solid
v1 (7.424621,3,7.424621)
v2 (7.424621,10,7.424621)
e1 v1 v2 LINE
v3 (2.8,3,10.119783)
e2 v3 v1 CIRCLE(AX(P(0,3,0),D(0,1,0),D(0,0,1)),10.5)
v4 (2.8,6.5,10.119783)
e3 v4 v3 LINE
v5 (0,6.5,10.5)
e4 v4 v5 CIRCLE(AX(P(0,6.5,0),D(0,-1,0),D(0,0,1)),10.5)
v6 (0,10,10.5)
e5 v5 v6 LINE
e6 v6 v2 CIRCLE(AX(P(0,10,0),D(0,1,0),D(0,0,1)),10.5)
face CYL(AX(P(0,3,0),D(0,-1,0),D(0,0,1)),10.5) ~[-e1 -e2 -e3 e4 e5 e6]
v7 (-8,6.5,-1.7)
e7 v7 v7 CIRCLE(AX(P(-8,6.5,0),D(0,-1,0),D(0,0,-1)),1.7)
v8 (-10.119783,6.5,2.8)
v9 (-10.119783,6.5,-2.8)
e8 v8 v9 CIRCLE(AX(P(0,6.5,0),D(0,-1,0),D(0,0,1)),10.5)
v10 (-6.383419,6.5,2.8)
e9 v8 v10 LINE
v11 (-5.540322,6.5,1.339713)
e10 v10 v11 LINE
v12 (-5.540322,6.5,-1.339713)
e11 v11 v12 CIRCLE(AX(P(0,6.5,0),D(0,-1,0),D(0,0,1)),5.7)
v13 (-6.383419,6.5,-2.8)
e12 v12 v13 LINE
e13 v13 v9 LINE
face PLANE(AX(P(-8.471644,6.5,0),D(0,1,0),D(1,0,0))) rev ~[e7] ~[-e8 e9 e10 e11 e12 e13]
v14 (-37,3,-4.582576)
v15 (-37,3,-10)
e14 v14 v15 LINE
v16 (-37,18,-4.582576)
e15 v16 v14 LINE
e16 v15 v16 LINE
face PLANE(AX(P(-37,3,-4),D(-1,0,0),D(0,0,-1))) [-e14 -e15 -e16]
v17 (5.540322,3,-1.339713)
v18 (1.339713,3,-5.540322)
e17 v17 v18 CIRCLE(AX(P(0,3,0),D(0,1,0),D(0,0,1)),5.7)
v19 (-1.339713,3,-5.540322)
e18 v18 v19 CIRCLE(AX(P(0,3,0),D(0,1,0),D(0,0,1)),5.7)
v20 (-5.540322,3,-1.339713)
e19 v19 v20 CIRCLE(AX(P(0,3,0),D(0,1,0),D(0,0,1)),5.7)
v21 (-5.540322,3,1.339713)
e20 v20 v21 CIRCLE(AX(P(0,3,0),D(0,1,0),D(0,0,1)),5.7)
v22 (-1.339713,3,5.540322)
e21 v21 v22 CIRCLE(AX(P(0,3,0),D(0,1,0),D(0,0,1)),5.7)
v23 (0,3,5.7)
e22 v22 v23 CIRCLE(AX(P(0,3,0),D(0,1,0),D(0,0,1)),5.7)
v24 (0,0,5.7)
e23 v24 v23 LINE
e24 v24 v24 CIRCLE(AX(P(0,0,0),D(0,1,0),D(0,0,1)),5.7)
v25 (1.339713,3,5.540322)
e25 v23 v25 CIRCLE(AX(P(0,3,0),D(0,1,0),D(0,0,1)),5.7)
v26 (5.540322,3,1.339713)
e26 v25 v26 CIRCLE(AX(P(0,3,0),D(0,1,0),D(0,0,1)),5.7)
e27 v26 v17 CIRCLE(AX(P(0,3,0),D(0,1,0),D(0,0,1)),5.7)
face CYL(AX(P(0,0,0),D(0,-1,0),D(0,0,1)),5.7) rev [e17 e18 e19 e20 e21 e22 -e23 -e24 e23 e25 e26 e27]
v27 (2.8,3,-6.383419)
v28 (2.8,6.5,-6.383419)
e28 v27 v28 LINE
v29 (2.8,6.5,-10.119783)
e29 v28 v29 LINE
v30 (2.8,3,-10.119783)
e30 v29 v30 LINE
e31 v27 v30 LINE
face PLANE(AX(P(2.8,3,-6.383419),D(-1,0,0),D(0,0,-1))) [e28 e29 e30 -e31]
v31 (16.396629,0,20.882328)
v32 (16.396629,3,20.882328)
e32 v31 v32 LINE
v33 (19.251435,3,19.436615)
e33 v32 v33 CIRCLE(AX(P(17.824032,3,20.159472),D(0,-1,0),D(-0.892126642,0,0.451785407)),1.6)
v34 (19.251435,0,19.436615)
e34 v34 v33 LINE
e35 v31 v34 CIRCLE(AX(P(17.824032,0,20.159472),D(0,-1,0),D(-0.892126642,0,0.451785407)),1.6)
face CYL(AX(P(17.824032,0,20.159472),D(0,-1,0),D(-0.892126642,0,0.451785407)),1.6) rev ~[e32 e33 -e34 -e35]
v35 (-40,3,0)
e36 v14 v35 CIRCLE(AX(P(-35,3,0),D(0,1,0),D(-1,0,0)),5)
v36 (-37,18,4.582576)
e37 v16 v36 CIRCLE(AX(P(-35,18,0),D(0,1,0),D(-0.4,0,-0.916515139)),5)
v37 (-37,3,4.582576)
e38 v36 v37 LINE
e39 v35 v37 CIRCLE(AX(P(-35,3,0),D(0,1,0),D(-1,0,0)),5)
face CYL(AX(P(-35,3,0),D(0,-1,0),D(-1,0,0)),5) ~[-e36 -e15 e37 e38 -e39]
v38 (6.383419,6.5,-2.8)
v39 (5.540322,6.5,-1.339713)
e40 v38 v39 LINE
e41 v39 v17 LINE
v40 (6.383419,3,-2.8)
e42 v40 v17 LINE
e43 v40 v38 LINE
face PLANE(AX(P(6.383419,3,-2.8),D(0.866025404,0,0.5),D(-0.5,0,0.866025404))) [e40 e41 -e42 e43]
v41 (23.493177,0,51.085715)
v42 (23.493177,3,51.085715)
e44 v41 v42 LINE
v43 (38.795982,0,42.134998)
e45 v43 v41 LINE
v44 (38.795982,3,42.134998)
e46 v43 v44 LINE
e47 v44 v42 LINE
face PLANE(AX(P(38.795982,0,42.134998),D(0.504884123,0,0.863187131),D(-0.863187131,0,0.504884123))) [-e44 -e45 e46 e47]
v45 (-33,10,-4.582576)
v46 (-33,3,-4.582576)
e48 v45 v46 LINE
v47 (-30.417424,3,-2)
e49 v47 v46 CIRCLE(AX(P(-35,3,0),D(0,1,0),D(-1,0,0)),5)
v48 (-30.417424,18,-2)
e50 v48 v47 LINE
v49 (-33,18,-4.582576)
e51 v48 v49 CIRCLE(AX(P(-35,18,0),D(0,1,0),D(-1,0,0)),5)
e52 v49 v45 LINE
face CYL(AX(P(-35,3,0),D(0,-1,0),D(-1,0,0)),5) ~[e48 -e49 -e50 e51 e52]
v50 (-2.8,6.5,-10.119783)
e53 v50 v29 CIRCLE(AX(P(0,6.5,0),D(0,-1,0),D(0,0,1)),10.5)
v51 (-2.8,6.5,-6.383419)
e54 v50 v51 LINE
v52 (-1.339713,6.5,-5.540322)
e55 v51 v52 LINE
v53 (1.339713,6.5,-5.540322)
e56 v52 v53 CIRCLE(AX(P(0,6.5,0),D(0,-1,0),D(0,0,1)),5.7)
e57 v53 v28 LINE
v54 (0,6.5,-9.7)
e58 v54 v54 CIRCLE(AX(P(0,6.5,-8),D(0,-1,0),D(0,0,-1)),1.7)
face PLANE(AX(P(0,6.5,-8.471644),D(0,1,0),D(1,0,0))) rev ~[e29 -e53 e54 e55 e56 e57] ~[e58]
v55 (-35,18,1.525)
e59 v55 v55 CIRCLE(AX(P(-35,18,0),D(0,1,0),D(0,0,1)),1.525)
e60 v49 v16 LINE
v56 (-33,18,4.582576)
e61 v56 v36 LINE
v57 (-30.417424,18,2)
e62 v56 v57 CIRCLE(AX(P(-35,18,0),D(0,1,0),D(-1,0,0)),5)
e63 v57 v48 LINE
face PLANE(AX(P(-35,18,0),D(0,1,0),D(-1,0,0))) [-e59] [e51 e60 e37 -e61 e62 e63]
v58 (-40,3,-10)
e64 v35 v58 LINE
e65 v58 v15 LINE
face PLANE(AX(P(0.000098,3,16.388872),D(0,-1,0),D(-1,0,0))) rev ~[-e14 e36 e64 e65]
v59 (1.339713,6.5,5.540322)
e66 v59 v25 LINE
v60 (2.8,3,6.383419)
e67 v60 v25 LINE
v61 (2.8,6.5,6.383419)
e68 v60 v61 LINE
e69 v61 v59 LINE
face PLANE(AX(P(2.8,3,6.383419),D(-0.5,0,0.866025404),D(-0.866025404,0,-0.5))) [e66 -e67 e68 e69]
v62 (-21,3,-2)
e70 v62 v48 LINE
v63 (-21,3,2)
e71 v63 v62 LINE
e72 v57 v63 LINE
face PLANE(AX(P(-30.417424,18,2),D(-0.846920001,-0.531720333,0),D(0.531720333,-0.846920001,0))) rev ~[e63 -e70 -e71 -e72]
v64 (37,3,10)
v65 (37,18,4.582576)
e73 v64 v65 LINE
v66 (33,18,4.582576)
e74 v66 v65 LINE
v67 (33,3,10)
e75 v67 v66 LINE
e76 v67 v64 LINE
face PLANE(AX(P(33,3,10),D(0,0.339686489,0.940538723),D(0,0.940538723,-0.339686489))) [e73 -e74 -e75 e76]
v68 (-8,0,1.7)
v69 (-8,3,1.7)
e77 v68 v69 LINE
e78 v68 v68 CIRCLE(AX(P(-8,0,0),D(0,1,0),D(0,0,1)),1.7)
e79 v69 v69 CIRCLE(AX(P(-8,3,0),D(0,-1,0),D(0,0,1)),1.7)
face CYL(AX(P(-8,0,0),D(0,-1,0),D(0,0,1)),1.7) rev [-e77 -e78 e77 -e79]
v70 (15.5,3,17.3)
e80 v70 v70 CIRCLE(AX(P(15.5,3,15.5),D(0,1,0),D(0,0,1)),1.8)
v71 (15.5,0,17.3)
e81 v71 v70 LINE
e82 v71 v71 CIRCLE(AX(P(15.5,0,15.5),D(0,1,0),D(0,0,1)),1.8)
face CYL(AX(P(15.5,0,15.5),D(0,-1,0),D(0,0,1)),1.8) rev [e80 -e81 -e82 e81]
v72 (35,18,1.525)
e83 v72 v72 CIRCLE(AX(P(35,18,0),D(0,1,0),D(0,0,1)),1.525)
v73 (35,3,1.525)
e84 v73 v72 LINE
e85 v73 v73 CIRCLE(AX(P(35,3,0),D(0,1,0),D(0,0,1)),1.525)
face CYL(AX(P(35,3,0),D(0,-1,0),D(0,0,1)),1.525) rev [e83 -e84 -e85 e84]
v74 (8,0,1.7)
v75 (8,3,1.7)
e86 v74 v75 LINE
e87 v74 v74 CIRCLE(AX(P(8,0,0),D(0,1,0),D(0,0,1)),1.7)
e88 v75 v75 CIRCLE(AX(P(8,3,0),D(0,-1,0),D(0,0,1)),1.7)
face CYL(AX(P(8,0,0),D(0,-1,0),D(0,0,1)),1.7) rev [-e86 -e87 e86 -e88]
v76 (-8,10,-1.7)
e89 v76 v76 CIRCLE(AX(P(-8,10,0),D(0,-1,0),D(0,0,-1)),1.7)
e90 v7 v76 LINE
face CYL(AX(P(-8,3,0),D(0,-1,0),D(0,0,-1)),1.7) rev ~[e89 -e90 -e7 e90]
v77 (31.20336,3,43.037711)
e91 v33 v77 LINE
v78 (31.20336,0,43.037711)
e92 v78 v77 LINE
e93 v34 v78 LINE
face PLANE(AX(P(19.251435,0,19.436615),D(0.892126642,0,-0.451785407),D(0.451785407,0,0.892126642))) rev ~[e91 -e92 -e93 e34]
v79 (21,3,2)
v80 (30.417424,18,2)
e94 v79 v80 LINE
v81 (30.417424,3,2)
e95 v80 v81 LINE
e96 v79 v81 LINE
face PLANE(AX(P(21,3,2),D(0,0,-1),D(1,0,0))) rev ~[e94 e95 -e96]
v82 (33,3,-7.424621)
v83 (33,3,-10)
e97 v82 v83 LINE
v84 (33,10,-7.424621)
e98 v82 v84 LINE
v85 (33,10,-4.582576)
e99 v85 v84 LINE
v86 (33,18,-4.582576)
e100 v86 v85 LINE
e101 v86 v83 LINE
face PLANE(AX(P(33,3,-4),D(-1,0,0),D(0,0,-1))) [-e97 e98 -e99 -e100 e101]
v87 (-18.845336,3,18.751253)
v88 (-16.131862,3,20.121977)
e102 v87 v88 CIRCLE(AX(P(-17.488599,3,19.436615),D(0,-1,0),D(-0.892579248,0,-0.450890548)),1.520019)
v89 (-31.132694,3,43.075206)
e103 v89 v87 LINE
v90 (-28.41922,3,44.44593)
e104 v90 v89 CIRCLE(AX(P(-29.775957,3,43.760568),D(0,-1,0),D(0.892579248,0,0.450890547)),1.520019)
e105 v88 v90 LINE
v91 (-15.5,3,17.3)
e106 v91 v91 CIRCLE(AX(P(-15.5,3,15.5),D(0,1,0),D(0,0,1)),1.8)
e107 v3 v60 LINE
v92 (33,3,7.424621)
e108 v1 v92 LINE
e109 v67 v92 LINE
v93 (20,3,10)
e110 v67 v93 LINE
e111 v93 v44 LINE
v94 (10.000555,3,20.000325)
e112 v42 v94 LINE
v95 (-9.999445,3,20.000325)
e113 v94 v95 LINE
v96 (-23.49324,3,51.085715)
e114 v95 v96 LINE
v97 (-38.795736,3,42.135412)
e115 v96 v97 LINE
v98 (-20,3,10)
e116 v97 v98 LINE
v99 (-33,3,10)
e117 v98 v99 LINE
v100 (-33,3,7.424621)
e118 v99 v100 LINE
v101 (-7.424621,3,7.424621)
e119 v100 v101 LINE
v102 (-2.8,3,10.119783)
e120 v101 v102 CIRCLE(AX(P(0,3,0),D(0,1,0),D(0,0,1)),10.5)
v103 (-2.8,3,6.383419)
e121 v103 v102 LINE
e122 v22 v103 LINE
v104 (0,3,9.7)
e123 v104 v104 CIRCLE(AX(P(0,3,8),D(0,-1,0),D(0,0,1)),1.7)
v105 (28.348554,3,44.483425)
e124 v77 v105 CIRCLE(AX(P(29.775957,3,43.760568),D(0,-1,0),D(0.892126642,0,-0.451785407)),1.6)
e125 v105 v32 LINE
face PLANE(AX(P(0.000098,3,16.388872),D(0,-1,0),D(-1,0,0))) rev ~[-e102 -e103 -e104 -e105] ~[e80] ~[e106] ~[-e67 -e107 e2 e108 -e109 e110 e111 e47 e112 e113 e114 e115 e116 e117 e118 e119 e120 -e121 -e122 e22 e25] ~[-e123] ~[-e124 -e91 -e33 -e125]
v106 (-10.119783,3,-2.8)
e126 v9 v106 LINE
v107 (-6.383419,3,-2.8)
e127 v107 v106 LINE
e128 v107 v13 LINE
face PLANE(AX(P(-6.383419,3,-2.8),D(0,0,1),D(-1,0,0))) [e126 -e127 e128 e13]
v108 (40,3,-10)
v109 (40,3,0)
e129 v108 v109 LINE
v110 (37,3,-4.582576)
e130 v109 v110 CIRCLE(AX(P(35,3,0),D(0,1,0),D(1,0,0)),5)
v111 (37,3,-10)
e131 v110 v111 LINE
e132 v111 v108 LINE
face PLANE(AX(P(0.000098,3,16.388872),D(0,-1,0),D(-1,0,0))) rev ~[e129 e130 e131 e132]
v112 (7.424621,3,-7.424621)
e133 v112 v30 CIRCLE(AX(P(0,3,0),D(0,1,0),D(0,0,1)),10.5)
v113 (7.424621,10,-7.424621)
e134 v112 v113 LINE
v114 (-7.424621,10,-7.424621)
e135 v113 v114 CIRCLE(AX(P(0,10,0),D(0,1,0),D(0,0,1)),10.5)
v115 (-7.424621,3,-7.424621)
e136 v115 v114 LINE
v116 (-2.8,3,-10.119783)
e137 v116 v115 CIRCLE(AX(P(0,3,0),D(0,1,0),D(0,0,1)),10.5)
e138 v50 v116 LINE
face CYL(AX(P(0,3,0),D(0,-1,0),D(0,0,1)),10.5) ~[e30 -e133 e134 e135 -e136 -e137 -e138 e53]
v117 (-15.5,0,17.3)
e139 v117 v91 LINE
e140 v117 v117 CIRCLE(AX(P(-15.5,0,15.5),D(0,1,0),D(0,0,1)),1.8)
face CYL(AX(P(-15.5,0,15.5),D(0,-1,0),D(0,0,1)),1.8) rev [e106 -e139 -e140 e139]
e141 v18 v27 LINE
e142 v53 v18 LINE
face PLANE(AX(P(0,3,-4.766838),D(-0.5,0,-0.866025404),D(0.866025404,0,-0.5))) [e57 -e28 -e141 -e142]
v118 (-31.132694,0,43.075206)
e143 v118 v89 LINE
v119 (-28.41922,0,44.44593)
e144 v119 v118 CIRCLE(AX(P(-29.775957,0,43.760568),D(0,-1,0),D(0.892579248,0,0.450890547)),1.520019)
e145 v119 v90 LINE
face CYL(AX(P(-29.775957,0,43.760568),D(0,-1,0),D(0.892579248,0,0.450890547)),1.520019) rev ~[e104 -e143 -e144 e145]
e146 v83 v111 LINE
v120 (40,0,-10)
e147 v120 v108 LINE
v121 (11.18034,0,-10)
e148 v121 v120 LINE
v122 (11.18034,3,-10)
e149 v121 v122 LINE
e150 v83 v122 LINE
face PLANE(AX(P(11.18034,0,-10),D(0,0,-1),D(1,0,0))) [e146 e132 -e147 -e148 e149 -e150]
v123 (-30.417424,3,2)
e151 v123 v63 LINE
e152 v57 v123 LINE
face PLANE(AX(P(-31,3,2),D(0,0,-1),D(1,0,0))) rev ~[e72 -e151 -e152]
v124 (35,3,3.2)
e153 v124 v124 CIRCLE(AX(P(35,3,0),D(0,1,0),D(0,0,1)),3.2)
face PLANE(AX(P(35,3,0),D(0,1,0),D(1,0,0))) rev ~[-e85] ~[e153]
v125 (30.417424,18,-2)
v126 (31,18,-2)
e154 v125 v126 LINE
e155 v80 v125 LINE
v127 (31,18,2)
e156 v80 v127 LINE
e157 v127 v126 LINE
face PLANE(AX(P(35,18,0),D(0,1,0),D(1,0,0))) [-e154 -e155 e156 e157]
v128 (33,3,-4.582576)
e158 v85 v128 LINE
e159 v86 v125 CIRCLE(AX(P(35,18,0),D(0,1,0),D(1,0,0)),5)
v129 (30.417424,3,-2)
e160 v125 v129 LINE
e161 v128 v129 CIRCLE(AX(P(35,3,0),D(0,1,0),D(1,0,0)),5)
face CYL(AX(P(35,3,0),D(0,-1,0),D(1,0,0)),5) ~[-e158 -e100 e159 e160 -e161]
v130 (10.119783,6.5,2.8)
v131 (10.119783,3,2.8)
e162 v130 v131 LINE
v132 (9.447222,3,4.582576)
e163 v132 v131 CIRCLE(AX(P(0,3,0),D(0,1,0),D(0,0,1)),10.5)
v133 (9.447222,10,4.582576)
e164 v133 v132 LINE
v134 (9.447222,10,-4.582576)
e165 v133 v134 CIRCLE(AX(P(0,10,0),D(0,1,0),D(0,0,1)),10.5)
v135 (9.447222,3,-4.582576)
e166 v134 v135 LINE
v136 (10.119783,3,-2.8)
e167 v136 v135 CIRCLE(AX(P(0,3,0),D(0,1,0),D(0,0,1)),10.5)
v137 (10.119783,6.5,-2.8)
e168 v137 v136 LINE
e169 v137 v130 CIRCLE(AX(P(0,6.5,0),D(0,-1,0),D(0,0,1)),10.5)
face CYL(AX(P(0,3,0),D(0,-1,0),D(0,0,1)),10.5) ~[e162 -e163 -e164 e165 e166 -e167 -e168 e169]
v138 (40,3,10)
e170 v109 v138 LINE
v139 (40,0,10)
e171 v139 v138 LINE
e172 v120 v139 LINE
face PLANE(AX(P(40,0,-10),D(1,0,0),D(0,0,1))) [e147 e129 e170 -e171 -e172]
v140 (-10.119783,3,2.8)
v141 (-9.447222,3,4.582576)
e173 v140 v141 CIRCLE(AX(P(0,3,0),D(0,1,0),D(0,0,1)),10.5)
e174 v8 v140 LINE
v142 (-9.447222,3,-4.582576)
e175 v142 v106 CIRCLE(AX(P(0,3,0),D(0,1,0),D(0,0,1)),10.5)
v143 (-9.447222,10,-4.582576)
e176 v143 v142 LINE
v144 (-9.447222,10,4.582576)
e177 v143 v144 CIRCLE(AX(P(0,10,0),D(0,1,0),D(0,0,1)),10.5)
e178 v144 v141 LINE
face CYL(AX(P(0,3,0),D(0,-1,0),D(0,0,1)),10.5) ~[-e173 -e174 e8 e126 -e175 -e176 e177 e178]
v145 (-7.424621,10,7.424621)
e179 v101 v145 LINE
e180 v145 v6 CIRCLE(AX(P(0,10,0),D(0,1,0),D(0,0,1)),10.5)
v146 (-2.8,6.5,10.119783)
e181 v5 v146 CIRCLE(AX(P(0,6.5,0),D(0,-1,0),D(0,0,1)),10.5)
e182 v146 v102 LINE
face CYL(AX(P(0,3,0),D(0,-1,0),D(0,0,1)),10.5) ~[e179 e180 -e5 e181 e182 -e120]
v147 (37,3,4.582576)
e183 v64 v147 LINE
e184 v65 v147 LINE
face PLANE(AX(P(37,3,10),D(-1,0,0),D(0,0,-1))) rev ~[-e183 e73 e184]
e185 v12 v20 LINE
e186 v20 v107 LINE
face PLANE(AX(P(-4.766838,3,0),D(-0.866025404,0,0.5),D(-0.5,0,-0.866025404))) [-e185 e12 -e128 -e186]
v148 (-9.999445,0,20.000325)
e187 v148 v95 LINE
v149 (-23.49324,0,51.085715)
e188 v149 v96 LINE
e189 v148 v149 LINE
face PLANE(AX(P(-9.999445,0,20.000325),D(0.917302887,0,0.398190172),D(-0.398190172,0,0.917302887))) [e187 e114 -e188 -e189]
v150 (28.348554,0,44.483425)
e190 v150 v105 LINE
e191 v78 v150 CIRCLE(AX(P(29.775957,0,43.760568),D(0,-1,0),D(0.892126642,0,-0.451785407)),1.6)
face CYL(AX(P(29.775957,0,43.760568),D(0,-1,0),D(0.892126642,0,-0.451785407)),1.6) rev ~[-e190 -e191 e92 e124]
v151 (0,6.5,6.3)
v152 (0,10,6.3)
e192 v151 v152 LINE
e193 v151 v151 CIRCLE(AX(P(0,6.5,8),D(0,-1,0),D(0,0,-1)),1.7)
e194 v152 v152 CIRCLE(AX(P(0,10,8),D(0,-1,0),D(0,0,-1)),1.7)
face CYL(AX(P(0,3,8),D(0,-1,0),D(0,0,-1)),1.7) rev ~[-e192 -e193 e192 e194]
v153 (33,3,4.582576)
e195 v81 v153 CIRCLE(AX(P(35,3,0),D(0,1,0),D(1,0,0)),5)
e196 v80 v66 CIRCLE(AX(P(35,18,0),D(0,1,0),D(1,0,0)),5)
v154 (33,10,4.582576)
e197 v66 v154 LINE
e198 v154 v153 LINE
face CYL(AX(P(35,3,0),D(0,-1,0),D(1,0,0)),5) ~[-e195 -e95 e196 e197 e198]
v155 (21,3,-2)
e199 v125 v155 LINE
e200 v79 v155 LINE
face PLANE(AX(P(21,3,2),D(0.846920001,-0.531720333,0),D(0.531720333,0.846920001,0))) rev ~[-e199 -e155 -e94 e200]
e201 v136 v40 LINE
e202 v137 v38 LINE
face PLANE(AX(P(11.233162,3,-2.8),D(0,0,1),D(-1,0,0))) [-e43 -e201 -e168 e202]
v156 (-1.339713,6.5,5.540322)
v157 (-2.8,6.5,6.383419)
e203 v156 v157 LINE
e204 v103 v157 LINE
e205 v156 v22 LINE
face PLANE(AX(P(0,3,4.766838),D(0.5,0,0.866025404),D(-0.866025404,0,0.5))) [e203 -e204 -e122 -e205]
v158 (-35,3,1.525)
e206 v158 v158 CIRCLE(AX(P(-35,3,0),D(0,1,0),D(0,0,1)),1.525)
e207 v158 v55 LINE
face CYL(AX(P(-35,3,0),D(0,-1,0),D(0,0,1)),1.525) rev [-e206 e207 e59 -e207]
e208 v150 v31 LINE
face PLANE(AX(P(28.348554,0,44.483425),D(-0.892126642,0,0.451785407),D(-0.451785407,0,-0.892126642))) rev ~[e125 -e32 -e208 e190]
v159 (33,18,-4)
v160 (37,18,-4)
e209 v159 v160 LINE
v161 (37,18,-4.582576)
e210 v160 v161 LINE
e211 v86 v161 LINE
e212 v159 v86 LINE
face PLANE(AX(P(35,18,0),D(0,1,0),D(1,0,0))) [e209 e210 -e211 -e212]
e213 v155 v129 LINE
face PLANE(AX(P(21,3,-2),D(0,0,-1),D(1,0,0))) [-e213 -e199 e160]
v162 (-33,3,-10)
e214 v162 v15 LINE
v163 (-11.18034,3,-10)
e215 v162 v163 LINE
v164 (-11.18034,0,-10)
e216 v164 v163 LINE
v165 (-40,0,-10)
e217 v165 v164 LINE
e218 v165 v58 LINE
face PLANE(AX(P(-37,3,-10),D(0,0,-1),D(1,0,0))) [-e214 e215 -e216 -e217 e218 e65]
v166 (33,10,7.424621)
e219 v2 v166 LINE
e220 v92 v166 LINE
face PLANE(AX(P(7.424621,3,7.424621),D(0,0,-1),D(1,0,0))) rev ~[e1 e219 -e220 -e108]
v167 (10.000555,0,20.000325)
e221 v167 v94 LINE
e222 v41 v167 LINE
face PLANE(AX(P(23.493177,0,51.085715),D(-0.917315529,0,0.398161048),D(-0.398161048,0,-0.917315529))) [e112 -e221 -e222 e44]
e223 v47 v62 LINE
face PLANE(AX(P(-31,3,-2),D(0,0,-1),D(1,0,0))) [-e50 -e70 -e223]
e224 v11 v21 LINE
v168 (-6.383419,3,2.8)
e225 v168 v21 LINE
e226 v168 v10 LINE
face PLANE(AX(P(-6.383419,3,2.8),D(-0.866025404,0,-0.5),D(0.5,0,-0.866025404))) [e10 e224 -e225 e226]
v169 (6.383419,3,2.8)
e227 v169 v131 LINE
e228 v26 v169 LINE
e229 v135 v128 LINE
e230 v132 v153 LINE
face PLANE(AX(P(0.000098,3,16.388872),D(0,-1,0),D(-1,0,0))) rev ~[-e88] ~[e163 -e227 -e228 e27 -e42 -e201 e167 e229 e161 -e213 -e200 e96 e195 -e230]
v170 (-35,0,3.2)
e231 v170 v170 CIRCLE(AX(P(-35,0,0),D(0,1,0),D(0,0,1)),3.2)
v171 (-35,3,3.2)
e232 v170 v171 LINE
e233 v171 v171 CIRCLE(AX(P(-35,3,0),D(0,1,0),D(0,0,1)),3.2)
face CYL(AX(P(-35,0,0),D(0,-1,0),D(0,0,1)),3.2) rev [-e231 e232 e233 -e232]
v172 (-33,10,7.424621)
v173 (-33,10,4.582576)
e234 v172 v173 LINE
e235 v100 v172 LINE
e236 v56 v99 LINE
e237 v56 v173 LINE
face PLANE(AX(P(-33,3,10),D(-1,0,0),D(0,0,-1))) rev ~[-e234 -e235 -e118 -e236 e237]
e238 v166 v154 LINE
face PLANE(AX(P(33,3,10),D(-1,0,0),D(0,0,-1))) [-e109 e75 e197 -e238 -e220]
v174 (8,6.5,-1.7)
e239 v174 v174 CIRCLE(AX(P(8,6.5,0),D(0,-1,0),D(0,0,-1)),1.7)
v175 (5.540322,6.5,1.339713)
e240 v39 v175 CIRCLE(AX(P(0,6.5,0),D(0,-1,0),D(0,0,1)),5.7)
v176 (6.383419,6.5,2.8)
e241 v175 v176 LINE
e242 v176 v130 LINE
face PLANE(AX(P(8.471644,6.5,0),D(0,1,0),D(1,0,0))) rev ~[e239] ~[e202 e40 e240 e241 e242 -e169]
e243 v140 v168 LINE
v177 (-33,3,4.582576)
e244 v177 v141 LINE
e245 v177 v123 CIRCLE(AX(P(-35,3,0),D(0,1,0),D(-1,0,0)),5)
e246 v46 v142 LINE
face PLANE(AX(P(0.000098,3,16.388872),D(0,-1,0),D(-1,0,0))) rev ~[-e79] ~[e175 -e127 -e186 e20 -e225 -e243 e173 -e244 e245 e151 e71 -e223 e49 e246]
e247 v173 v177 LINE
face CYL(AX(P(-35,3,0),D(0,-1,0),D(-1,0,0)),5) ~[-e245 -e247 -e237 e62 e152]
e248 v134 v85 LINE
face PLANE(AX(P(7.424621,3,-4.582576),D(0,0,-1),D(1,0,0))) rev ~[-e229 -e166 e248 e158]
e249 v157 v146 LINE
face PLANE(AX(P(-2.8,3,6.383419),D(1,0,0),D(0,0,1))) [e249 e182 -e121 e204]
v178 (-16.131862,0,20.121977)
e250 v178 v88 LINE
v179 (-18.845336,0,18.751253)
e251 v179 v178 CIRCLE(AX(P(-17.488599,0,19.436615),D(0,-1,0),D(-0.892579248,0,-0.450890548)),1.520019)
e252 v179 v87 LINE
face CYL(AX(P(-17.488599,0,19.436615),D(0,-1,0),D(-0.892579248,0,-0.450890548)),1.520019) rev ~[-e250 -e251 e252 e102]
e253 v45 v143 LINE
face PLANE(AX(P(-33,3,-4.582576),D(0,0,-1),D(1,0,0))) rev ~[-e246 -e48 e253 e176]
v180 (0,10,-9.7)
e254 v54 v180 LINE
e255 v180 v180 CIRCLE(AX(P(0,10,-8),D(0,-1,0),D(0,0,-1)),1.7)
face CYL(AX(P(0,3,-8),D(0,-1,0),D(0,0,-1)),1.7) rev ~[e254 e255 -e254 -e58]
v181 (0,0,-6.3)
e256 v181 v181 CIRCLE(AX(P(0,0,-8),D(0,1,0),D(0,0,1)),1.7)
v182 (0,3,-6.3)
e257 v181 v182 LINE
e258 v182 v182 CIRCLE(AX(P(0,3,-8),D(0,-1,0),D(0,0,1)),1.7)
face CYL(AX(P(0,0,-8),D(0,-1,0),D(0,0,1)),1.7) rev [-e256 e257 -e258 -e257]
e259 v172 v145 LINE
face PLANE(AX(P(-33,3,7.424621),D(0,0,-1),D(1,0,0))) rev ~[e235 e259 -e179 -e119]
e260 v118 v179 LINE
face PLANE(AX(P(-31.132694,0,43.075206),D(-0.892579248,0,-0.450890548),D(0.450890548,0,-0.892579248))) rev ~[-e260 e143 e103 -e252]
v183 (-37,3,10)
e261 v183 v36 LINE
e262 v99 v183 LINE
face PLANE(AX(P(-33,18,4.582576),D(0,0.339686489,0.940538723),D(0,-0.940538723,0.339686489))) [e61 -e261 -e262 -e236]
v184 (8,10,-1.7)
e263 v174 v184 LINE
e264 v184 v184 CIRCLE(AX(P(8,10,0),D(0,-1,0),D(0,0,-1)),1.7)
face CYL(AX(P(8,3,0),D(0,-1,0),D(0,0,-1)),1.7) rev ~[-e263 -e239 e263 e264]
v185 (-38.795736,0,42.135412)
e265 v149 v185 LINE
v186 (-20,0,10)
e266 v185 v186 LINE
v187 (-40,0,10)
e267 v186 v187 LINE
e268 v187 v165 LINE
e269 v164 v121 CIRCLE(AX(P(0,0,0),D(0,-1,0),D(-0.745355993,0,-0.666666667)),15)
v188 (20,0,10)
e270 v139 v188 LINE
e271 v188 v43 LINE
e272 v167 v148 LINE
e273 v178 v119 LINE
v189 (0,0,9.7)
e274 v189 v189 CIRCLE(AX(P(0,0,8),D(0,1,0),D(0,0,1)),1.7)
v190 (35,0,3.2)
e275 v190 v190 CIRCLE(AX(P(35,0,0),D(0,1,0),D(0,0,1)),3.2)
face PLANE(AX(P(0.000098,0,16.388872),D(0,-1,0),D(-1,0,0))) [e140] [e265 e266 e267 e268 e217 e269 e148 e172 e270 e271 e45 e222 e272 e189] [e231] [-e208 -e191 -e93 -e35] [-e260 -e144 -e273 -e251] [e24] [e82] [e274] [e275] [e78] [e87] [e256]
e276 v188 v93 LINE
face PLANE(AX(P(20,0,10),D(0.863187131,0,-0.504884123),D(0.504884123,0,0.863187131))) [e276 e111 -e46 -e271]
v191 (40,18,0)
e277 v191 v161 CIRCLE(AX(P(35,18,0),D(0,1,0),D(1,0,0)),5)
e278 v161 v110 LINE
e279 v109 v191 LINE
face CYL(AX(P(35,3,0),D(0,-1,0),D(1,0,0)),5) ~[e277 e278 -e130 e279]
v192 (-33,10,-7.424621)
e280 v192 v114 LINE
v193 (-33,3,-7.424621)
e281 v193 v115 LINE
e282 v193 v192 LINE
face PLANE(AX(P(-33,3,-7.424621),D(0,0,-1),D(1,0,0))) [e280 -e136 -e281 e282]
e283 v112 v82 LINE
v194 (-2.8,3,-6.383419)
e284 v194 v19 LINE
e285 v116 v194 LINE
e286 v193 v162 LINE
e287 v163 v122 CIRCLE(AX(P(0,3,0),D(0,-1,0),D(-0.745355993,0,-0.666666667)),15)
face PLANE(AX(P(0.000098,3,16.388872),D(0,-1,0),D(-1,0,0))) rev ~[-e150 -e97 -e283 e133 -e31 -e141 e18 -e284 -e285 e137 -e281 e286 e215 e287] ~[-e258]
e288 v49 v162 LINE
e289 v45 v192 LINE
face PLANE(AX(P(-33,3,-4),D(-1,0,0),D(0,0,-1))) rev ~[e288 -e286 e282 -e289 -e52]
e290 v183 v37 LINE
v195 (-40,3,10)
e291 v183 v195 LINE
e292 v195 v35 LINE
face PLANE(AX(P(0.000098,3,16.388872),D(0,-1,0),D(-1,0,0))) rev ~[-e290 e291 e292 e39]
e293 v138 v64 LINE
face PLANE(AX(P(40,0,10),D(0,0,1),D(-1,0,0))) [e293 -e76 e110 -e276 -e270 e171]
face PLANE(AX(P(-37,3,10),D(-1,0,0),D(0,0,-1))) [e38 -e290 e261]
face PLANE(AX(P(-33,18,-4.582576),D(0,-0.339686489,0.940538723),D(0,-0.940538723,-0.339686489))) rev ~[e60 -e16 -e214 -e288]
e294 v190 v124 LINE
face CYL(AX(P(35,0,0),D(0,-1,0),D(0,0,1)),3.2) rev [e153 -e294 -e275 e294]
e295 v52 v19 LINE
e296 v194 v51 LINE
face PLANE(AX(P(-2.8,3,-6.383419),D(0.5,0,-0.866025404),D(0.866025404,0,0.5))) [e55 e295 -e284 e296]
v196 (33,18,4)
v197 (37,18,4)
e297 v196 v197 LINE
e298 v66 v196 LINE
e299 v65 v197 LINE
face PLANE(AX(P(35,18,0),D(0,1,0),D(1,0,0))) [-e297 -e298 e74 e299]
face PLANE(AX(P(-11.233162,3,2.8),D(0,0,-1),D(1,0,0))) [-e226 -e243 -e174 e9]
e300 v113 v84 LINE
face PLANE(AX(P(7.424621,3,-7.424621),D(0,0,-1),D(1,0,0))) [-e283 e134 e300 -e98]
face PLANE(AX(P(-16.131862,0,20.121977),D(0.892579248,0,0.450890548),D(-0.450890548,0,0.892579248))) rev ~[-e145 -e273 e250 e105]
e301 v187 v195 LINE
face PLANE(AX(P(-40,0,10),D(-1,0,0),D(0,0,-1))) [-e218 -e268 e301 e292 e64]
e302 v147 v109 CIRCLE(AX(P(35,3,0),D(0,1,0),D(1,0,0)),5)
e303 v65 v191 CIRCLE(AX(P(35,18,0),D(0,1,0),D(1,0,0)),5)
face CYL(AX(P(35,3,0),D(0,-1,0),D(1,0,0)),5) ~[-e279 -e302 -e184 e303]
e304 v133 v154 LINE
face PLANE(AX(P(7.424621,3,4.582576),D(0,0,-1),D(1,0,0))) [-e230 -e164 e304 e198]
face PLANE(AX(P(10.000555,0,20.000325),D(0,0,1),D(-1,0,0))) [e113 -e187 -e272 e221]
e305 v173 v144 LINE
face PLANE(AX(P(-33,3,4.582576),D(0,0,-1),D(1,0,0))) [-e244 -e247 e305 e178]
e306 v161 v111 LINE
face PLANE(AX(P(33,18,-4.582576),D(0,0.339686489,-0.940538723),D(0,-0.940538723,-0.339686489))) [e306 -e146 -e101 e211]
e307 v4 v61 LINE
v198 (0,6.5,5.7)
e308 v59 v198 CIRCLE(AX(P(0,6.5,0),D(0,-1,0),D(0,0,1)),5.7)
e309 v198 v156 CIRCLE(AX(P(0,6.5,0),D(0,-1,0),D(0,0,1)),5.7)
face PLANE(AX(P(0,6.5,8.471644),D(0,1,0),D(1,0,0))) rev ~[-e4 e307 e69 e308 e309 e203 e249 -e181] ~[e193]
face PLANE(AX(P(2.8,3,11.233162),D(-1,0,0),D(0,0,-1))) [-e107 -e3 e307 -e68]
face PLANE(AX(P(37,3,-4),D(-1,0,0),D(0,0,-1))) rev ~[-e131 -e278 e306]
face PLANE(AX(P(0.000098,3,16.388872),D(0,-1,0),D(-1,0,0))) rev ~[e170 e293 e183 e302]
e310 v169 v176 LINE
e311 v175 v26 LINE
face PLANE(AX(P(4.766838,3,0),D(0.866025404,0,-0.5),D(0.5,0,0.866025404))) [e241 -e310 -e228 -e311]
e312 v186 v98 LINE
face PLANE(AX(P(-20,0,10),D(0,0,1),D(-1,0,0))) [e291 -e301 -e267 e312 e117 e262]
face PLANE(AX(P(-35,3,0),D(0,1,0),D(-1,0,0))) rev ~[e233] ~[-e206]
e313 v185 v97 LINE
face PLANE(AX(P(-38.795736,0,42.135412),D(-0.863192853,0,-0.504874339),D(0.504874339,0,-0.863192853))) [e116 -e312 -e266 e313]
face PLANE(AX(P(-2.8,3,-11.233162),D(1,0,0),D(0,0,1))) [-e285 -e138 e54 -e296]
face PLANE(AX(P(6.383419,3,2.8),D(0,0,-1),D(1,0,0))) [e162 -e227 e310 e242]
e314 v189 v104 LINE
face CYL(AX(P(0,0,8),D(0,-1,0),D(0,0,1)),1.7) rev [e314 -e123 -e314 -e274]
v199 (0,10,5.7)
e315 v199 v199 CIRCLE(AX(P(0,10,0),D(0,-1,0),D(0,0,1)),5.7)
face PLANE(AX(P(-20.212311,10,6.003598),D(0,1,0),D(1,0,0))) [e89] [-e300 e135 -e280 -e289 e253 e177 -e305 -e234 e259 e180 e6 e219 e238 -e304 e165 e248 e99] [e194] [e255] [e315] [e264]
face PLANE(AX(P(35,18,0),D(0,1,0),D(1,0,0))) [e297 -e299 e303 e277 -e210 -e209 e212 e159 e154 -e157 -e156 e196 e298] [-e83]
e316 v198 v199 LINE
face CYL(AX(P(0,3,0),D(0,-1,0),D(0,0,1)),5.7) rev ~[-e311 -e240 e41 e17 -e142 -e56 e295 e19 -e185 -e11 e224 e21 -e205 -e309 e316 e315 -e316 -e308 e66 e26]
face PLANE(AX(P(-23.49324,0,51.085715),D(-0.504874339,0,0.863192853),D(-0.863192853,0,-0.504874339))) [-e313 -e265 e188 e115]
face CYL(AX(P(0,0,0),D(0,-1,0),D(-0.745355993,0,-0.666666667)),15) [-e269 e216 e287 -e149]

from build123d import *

# Parameters (mm, degrees)
SKETCH_1_R          = 3.2
SKETCH_1_R_2        = 1.8
SKETCH_1_R_3        = 5.7
SKETCH_1_R_4        = 1.7
EXTRUDE_1_DEPTH     = 3
SKETCH_2_R          = 10.5
EXTRUDE_2_DEPTH     = 7
SKETCH_4_R          = 1.7
CUT_EXTRUDE_1_DEPTH = 7
CUT_EXTRUDE_2_DEPTH = 3.5
SKETCH_6_R          = 5.7
CUT_EXTRUDE_3_DEPTH = 20
SKETCH_7_R          = 5
SKETCH_7_R_2        = 1.525
EXTRUDE_3_DEPTH     = 15
SKETCH_8_W          = 10
SKETCH_8_H          = 4
SKETCH_8_W_2        = 4
SKETCH_8_H_2        = 6
EXTRUDE_4_DEPTH     = 15
CUT_EXTRUDE_4_DEPTH = 15
CUT_EXTRUDE_5_DEPTH = 15
CUT_EXTRUDE_6_DEPTH = 15
SKETCH_12_W         = 25.575378798
SKETCH_12_H         = 2.842045507
EXTRUDE_5_DEPTH     = 7


with BuildPart() as part:
    # 草图1 → 凸台-拉伸1 (new body)
    with BuildSketch(Plane(origin=(0, 0, 0), x_dir=(1, 0, 0), z_dir=(0, 1, 0))):
        with BuildLine():
            Line((-35.081832586, -10), (-40, -10))
            Line((-40, -10), (-40, 10))
            Line((-40, 10), (-11.180339887, 10))
            ThreePointArc((-11.180339887, 10), (0, 15), (11.180339887, 10))
            Line((11.180339887, 10), (40, 10))
            Line((40, 10), (40, -10))
            Line((40, -10), (20, -10))
            Line((20, -10), (38.795982487, -42.134997854))
            Line((38.795982487, -42.134997854), (23.493176713, -51.085714784))
            Line((23.493176713, -51.085714784), (10.00055485, -20.000324527))
            Line((10.00055485, -20.000324527), (-9.99944515, -20.000324527))
            Line((-9.99944515, -20.000324527), (-23.493239928, -51.085714784))
            Line((-23.493239928, -51.085714784), (-38.79573581, -42.1354119))
            Line((-38.79573581, -42.1354119), (-20, -10))
            Line((-20, -10), (-35.081832586, -10))
        make_face()
        with Locations(Location((35, 0, 0), (0, 0, 270))):
            Circle(SKETCH_1_R, mode=Mode.SUBTRACT)
        with Locations(Location((-15.5, -15.5, 0), (0, 0, 270))):
            Circle(SKETCH_1_R_2, mode=Mode.SUBTRACT)
        with Locations(Location((15.5, -15.5, 0), (0, 0, 270))):
            Circle(SKETCH_1_R_2, mode=Mode.SUBTRACT)
        with Locations(Location((-35, 0, 0), (0, 0, 270))):
            Circle(SKETCH_1_R, mode=Mode.SUBTRACT)
        with Locations(Location((0, 0, 0), (0, 0, 270))):
            Circle(SKETCH_1_R_3, mode=Mode.SUBTRACT)
        with Locations(Location((-8, 0, 0), (0, 0, 270))):
            Circle(SKETCH_1_R_4, mode=Mode.SUBTRACT)
        with Locations(Location((0, 8, 0), (0, 0, 270))):
            Circle(SKETCH_1_R_4, mode=Mode.SUBTRACT)
        with Locations(Location((8, 0, 0), (0, 0, 270))):
            Circle(SKETCH_1_R_4, mode=Mode.SUBTRACT)
        with Locations(Location((0, -8, 0), (0, 0, 270))):
            Circle(SKETCH_1_R_4, mode=Mode.SUBTRACT)
        with BuildLine():
            Line((-16.131862345, -20.121977189), (-28.419219954, -44.445930008))
            ThreePointArc((-28.419219954, -44.445930008), (-30.461319047, -45.117305053), (-31.132694091, -43.07520596))
            Line((-31.132694091, -43.07520596), (-18.845336482, -18.75125314))
            ThreePointArc((-18.845336482, -18.75125314), (-16.803237389, -18.079878096), (-16.131862345, -20.121977189))
        make_face(mode=Mode.SUBTRACT)
        with BuildLine():
            Line((19.251434516, -19.436615165), (31.203359651, -43.037711333))
            ThreePointArc((31.203359651, -43.037711333), (30.498813674, -45.187970612), (28.348554395, -44.483424635))
            Line((28.348554395, -44.483424635), (16.39662926, -20.882328467))
            ThreePointArc((16.39662926, -20.882328467), (17.101175237, -18.732069188), (19.251434516, -19.436615165))
        make_face(mode=Mode.SUBTRACT)
    extrude(amount=EXTRUDE_1_DEPTH)

    # 草图2 → 凸台-拉伸2 (add)
    with BuildSketch(Plane(origin=(0, 3, 0), x_dir=(1, 0, 0), z_dir=(0, 1, 0))):
        with Locations(Location((0, 0, 0), (0, 0, 270))):
            Circle(SKETCH_2_R)
    extrude(amount=EXTRUDE_2_DEPTH)

    # 草图4 → 切除-拉伸1 (cut)
    with BuildSketch(Plane.XZ.offset(-3)):
        with Locations(Location((0, -8, 0), (0, 0, 270))):
            Circle(SKETCH_4_R)
        with Locations(Location((-8, 0, 0), (0, 0, 270))):
            Circle(SKETCH_4_R)
        with Locations(Location((8, 0, 0), (0, 0, 270))):
            Circle(SKETCH_4_R)
        with Locations(Location((0, 8, 0), (0, 0, 270))):
            Circle(SKETCH_4_R)
    extrude(amount=-CUT_EXTRUDE_1_DEPTH, mode=Mode.SUBTRACT)

    # 草图5 → 切除-拉伸2 (cut)
    with BuildSketch(Plane(origin=(0, 3, 0), x_dir=(1, 0, 0), z_dir=(0, 1, 0))):
        Polygon((-4.766838493, 0), (-6.383419246, 2.8), (-11.233161507, 2.8), (-11.233161507, -2.8), (-6.383419246, -2.8), align=None)
        Polygon((4.766838493, 0), (6.383419246, -2.8), (11.233161507, -2.8), (11.233161507, 2.8), (6.383419246, 2.8), align=None)
        Polygon((-2.8, 11.233161507), (-2.8, 6.383419246), (0, 4.766838493), (2.8, 6.383419246), (2.8, 11.233161507), align=None)
        Polygon((0, -4.766838493), (-2.8, -6.383419246), (-2.8, -11.233161507), (2.8, -11.233161507), (2.8, -6.383419246), align=None)
    extrude(amount=CUT_EXTRUDE_2_DEPTH, mode=Mode.SUBTRACT)

    # 草图6 → 切除-拉伸3 (cut)
    with BuildSketch(Plane.XZ.offset(-3)):
        with Locations(Location((0, 0, 0), (0, 0, 90))):
            Circle(SKETCH_6_R)
    extrude(amount=-CUT_EXTRUDE_3_DEPTH, mode=Mode.SUBTRACT)

    # 草图7 → 凸台-拉伸3 (add)
    # profile 1 of 2: a face of its own
    with BuildSketch(Plane(origin=(0, 3, 0), x_dir=(1, 0, 0), z_dir=(0, 1, 0))):
        with Locations(Location((-35, 0, 0), (0, 0, 180))):
            Circle(SKETCH_7_R)
        with Locations(Location((-35, 0, 0), (0, 0, 270))):
            Circle(SKETCH_7_R_2, mode=Mode.SUBTRACT)
    # profile 2 of 2: a face of its own
    with BuildSketch(Plane(origin=(0, 3, 0), x_dir=(1, 0, 0), z_dir=(0, 1, 0))):
        with Locations((35, 0)):
            Circle(SKETCH_7_R)
        with Locations(Location((35, 0, 0), (0, 0, 270))):
            Circle(SKETCH_7_R_2, mode=Mode.SUBTRACT)
    extrude(amount=EXTRUDE_3_DEPTH)

    # 草图8 → 凸台-拉伸4 (add)
    with BuildSketch(Plane(origin=(0, 3, 0), x_dir=(1, 0, 0), z_dir=(0, 1, 0))):
        with Locations((-26, 0)):
            Rectangle(SKETCH_8_W, SKETCH_8_H)
        with Locations((-35, 7)):
            Rectangle(SKETCH_8_W_2, SKETCH_8_H_2)
        with Locations((-35, -7)):
            Rectangle(SKETCH_8_W_2, SKETCH_8_H_2)
        with Locations((26, 0)):
            Rectangle(SKETCH_8_W, SKETCH_8_H)
        with Locations((35, 7)):
            Rectangle(SKETCH_8_W_2, SKETCH_8_H_2)
        with Locations((35, -7)):
            Rectangle(SKETCH_8_W_2, SKETCH_8_H_2)
    extrude(amount=EXTRUDE_4_DEPTH)

    # 草图9 → 切除-拉伸4 (cut)
    with BuildSketch(Plane.XY.offset(2)):
        Polygon((-30.417424305, 18), (-21, 3), (-21, 18), align=None)
        Polygon((21, 3), (30.417424305, 18), (21, 18), align=None)
    extrude(amount=-CUT_EXTRUDE_4_DEPTH, mode=Mode.SUBTRACT)

    # 草图10 → 切除-拉伸5 (cut)
    with BuildSketch(Plane.ZY.offset(-33)):
        Polygon((-4.582575695, 18), (-10, 3), (-10, 18), align=None)
        Polygon((4.582575695, 18), (10, 18), (10, 3), align=None)
    extrude(amount=-CUT_EXTRUDE_5_DEPTH, mode=Mode.SUBTRACT)

    # 草图11 → 切除-拉伸6 (cut)
    with BuildSketch(Plane(origin=(-33, 0, 0), x_dir=(0, 0, -1), z_dir=(1, 0, 0))):
        Polygon((-4.582575695, 18), (-10, 3), (-10, 18), align=None)
        Polygon((4.582575695, 18), (10, 3), (10, 18), align=None)
    extrude(amount=-CUT_EXTRUDE_6_DEPTH, mode=Mode.SUBTRACT)

    # 草图12 → 凸台-拉伸5 (add)
    with BuildSketch(Plane(origin=(0, 3, 0), x_dir=(1, 0, 0), z_dir=(0, 1, 0))):
        with Locations((-20.212310601, -6.003598449)):
            Rectangle(SKETCH_12_W, SKETCH_12_H)
        with Locations((-20.212310601, 6.003598449)):
            Rectangle(SKETCH_12_W, SKETCH_12_H)
        with Locations((20.212310601, 6.003598449)):
            Rectangle(SKETCH_12_W, SKETCH_12_H)
        with Locations((20.212310601, -6.003598449)):
            Rectangle(SKETCH_12_W, SKETCH_12_H)
    extrude(amount=EXTRUDE_5_DEPTH)


solid = part.part
